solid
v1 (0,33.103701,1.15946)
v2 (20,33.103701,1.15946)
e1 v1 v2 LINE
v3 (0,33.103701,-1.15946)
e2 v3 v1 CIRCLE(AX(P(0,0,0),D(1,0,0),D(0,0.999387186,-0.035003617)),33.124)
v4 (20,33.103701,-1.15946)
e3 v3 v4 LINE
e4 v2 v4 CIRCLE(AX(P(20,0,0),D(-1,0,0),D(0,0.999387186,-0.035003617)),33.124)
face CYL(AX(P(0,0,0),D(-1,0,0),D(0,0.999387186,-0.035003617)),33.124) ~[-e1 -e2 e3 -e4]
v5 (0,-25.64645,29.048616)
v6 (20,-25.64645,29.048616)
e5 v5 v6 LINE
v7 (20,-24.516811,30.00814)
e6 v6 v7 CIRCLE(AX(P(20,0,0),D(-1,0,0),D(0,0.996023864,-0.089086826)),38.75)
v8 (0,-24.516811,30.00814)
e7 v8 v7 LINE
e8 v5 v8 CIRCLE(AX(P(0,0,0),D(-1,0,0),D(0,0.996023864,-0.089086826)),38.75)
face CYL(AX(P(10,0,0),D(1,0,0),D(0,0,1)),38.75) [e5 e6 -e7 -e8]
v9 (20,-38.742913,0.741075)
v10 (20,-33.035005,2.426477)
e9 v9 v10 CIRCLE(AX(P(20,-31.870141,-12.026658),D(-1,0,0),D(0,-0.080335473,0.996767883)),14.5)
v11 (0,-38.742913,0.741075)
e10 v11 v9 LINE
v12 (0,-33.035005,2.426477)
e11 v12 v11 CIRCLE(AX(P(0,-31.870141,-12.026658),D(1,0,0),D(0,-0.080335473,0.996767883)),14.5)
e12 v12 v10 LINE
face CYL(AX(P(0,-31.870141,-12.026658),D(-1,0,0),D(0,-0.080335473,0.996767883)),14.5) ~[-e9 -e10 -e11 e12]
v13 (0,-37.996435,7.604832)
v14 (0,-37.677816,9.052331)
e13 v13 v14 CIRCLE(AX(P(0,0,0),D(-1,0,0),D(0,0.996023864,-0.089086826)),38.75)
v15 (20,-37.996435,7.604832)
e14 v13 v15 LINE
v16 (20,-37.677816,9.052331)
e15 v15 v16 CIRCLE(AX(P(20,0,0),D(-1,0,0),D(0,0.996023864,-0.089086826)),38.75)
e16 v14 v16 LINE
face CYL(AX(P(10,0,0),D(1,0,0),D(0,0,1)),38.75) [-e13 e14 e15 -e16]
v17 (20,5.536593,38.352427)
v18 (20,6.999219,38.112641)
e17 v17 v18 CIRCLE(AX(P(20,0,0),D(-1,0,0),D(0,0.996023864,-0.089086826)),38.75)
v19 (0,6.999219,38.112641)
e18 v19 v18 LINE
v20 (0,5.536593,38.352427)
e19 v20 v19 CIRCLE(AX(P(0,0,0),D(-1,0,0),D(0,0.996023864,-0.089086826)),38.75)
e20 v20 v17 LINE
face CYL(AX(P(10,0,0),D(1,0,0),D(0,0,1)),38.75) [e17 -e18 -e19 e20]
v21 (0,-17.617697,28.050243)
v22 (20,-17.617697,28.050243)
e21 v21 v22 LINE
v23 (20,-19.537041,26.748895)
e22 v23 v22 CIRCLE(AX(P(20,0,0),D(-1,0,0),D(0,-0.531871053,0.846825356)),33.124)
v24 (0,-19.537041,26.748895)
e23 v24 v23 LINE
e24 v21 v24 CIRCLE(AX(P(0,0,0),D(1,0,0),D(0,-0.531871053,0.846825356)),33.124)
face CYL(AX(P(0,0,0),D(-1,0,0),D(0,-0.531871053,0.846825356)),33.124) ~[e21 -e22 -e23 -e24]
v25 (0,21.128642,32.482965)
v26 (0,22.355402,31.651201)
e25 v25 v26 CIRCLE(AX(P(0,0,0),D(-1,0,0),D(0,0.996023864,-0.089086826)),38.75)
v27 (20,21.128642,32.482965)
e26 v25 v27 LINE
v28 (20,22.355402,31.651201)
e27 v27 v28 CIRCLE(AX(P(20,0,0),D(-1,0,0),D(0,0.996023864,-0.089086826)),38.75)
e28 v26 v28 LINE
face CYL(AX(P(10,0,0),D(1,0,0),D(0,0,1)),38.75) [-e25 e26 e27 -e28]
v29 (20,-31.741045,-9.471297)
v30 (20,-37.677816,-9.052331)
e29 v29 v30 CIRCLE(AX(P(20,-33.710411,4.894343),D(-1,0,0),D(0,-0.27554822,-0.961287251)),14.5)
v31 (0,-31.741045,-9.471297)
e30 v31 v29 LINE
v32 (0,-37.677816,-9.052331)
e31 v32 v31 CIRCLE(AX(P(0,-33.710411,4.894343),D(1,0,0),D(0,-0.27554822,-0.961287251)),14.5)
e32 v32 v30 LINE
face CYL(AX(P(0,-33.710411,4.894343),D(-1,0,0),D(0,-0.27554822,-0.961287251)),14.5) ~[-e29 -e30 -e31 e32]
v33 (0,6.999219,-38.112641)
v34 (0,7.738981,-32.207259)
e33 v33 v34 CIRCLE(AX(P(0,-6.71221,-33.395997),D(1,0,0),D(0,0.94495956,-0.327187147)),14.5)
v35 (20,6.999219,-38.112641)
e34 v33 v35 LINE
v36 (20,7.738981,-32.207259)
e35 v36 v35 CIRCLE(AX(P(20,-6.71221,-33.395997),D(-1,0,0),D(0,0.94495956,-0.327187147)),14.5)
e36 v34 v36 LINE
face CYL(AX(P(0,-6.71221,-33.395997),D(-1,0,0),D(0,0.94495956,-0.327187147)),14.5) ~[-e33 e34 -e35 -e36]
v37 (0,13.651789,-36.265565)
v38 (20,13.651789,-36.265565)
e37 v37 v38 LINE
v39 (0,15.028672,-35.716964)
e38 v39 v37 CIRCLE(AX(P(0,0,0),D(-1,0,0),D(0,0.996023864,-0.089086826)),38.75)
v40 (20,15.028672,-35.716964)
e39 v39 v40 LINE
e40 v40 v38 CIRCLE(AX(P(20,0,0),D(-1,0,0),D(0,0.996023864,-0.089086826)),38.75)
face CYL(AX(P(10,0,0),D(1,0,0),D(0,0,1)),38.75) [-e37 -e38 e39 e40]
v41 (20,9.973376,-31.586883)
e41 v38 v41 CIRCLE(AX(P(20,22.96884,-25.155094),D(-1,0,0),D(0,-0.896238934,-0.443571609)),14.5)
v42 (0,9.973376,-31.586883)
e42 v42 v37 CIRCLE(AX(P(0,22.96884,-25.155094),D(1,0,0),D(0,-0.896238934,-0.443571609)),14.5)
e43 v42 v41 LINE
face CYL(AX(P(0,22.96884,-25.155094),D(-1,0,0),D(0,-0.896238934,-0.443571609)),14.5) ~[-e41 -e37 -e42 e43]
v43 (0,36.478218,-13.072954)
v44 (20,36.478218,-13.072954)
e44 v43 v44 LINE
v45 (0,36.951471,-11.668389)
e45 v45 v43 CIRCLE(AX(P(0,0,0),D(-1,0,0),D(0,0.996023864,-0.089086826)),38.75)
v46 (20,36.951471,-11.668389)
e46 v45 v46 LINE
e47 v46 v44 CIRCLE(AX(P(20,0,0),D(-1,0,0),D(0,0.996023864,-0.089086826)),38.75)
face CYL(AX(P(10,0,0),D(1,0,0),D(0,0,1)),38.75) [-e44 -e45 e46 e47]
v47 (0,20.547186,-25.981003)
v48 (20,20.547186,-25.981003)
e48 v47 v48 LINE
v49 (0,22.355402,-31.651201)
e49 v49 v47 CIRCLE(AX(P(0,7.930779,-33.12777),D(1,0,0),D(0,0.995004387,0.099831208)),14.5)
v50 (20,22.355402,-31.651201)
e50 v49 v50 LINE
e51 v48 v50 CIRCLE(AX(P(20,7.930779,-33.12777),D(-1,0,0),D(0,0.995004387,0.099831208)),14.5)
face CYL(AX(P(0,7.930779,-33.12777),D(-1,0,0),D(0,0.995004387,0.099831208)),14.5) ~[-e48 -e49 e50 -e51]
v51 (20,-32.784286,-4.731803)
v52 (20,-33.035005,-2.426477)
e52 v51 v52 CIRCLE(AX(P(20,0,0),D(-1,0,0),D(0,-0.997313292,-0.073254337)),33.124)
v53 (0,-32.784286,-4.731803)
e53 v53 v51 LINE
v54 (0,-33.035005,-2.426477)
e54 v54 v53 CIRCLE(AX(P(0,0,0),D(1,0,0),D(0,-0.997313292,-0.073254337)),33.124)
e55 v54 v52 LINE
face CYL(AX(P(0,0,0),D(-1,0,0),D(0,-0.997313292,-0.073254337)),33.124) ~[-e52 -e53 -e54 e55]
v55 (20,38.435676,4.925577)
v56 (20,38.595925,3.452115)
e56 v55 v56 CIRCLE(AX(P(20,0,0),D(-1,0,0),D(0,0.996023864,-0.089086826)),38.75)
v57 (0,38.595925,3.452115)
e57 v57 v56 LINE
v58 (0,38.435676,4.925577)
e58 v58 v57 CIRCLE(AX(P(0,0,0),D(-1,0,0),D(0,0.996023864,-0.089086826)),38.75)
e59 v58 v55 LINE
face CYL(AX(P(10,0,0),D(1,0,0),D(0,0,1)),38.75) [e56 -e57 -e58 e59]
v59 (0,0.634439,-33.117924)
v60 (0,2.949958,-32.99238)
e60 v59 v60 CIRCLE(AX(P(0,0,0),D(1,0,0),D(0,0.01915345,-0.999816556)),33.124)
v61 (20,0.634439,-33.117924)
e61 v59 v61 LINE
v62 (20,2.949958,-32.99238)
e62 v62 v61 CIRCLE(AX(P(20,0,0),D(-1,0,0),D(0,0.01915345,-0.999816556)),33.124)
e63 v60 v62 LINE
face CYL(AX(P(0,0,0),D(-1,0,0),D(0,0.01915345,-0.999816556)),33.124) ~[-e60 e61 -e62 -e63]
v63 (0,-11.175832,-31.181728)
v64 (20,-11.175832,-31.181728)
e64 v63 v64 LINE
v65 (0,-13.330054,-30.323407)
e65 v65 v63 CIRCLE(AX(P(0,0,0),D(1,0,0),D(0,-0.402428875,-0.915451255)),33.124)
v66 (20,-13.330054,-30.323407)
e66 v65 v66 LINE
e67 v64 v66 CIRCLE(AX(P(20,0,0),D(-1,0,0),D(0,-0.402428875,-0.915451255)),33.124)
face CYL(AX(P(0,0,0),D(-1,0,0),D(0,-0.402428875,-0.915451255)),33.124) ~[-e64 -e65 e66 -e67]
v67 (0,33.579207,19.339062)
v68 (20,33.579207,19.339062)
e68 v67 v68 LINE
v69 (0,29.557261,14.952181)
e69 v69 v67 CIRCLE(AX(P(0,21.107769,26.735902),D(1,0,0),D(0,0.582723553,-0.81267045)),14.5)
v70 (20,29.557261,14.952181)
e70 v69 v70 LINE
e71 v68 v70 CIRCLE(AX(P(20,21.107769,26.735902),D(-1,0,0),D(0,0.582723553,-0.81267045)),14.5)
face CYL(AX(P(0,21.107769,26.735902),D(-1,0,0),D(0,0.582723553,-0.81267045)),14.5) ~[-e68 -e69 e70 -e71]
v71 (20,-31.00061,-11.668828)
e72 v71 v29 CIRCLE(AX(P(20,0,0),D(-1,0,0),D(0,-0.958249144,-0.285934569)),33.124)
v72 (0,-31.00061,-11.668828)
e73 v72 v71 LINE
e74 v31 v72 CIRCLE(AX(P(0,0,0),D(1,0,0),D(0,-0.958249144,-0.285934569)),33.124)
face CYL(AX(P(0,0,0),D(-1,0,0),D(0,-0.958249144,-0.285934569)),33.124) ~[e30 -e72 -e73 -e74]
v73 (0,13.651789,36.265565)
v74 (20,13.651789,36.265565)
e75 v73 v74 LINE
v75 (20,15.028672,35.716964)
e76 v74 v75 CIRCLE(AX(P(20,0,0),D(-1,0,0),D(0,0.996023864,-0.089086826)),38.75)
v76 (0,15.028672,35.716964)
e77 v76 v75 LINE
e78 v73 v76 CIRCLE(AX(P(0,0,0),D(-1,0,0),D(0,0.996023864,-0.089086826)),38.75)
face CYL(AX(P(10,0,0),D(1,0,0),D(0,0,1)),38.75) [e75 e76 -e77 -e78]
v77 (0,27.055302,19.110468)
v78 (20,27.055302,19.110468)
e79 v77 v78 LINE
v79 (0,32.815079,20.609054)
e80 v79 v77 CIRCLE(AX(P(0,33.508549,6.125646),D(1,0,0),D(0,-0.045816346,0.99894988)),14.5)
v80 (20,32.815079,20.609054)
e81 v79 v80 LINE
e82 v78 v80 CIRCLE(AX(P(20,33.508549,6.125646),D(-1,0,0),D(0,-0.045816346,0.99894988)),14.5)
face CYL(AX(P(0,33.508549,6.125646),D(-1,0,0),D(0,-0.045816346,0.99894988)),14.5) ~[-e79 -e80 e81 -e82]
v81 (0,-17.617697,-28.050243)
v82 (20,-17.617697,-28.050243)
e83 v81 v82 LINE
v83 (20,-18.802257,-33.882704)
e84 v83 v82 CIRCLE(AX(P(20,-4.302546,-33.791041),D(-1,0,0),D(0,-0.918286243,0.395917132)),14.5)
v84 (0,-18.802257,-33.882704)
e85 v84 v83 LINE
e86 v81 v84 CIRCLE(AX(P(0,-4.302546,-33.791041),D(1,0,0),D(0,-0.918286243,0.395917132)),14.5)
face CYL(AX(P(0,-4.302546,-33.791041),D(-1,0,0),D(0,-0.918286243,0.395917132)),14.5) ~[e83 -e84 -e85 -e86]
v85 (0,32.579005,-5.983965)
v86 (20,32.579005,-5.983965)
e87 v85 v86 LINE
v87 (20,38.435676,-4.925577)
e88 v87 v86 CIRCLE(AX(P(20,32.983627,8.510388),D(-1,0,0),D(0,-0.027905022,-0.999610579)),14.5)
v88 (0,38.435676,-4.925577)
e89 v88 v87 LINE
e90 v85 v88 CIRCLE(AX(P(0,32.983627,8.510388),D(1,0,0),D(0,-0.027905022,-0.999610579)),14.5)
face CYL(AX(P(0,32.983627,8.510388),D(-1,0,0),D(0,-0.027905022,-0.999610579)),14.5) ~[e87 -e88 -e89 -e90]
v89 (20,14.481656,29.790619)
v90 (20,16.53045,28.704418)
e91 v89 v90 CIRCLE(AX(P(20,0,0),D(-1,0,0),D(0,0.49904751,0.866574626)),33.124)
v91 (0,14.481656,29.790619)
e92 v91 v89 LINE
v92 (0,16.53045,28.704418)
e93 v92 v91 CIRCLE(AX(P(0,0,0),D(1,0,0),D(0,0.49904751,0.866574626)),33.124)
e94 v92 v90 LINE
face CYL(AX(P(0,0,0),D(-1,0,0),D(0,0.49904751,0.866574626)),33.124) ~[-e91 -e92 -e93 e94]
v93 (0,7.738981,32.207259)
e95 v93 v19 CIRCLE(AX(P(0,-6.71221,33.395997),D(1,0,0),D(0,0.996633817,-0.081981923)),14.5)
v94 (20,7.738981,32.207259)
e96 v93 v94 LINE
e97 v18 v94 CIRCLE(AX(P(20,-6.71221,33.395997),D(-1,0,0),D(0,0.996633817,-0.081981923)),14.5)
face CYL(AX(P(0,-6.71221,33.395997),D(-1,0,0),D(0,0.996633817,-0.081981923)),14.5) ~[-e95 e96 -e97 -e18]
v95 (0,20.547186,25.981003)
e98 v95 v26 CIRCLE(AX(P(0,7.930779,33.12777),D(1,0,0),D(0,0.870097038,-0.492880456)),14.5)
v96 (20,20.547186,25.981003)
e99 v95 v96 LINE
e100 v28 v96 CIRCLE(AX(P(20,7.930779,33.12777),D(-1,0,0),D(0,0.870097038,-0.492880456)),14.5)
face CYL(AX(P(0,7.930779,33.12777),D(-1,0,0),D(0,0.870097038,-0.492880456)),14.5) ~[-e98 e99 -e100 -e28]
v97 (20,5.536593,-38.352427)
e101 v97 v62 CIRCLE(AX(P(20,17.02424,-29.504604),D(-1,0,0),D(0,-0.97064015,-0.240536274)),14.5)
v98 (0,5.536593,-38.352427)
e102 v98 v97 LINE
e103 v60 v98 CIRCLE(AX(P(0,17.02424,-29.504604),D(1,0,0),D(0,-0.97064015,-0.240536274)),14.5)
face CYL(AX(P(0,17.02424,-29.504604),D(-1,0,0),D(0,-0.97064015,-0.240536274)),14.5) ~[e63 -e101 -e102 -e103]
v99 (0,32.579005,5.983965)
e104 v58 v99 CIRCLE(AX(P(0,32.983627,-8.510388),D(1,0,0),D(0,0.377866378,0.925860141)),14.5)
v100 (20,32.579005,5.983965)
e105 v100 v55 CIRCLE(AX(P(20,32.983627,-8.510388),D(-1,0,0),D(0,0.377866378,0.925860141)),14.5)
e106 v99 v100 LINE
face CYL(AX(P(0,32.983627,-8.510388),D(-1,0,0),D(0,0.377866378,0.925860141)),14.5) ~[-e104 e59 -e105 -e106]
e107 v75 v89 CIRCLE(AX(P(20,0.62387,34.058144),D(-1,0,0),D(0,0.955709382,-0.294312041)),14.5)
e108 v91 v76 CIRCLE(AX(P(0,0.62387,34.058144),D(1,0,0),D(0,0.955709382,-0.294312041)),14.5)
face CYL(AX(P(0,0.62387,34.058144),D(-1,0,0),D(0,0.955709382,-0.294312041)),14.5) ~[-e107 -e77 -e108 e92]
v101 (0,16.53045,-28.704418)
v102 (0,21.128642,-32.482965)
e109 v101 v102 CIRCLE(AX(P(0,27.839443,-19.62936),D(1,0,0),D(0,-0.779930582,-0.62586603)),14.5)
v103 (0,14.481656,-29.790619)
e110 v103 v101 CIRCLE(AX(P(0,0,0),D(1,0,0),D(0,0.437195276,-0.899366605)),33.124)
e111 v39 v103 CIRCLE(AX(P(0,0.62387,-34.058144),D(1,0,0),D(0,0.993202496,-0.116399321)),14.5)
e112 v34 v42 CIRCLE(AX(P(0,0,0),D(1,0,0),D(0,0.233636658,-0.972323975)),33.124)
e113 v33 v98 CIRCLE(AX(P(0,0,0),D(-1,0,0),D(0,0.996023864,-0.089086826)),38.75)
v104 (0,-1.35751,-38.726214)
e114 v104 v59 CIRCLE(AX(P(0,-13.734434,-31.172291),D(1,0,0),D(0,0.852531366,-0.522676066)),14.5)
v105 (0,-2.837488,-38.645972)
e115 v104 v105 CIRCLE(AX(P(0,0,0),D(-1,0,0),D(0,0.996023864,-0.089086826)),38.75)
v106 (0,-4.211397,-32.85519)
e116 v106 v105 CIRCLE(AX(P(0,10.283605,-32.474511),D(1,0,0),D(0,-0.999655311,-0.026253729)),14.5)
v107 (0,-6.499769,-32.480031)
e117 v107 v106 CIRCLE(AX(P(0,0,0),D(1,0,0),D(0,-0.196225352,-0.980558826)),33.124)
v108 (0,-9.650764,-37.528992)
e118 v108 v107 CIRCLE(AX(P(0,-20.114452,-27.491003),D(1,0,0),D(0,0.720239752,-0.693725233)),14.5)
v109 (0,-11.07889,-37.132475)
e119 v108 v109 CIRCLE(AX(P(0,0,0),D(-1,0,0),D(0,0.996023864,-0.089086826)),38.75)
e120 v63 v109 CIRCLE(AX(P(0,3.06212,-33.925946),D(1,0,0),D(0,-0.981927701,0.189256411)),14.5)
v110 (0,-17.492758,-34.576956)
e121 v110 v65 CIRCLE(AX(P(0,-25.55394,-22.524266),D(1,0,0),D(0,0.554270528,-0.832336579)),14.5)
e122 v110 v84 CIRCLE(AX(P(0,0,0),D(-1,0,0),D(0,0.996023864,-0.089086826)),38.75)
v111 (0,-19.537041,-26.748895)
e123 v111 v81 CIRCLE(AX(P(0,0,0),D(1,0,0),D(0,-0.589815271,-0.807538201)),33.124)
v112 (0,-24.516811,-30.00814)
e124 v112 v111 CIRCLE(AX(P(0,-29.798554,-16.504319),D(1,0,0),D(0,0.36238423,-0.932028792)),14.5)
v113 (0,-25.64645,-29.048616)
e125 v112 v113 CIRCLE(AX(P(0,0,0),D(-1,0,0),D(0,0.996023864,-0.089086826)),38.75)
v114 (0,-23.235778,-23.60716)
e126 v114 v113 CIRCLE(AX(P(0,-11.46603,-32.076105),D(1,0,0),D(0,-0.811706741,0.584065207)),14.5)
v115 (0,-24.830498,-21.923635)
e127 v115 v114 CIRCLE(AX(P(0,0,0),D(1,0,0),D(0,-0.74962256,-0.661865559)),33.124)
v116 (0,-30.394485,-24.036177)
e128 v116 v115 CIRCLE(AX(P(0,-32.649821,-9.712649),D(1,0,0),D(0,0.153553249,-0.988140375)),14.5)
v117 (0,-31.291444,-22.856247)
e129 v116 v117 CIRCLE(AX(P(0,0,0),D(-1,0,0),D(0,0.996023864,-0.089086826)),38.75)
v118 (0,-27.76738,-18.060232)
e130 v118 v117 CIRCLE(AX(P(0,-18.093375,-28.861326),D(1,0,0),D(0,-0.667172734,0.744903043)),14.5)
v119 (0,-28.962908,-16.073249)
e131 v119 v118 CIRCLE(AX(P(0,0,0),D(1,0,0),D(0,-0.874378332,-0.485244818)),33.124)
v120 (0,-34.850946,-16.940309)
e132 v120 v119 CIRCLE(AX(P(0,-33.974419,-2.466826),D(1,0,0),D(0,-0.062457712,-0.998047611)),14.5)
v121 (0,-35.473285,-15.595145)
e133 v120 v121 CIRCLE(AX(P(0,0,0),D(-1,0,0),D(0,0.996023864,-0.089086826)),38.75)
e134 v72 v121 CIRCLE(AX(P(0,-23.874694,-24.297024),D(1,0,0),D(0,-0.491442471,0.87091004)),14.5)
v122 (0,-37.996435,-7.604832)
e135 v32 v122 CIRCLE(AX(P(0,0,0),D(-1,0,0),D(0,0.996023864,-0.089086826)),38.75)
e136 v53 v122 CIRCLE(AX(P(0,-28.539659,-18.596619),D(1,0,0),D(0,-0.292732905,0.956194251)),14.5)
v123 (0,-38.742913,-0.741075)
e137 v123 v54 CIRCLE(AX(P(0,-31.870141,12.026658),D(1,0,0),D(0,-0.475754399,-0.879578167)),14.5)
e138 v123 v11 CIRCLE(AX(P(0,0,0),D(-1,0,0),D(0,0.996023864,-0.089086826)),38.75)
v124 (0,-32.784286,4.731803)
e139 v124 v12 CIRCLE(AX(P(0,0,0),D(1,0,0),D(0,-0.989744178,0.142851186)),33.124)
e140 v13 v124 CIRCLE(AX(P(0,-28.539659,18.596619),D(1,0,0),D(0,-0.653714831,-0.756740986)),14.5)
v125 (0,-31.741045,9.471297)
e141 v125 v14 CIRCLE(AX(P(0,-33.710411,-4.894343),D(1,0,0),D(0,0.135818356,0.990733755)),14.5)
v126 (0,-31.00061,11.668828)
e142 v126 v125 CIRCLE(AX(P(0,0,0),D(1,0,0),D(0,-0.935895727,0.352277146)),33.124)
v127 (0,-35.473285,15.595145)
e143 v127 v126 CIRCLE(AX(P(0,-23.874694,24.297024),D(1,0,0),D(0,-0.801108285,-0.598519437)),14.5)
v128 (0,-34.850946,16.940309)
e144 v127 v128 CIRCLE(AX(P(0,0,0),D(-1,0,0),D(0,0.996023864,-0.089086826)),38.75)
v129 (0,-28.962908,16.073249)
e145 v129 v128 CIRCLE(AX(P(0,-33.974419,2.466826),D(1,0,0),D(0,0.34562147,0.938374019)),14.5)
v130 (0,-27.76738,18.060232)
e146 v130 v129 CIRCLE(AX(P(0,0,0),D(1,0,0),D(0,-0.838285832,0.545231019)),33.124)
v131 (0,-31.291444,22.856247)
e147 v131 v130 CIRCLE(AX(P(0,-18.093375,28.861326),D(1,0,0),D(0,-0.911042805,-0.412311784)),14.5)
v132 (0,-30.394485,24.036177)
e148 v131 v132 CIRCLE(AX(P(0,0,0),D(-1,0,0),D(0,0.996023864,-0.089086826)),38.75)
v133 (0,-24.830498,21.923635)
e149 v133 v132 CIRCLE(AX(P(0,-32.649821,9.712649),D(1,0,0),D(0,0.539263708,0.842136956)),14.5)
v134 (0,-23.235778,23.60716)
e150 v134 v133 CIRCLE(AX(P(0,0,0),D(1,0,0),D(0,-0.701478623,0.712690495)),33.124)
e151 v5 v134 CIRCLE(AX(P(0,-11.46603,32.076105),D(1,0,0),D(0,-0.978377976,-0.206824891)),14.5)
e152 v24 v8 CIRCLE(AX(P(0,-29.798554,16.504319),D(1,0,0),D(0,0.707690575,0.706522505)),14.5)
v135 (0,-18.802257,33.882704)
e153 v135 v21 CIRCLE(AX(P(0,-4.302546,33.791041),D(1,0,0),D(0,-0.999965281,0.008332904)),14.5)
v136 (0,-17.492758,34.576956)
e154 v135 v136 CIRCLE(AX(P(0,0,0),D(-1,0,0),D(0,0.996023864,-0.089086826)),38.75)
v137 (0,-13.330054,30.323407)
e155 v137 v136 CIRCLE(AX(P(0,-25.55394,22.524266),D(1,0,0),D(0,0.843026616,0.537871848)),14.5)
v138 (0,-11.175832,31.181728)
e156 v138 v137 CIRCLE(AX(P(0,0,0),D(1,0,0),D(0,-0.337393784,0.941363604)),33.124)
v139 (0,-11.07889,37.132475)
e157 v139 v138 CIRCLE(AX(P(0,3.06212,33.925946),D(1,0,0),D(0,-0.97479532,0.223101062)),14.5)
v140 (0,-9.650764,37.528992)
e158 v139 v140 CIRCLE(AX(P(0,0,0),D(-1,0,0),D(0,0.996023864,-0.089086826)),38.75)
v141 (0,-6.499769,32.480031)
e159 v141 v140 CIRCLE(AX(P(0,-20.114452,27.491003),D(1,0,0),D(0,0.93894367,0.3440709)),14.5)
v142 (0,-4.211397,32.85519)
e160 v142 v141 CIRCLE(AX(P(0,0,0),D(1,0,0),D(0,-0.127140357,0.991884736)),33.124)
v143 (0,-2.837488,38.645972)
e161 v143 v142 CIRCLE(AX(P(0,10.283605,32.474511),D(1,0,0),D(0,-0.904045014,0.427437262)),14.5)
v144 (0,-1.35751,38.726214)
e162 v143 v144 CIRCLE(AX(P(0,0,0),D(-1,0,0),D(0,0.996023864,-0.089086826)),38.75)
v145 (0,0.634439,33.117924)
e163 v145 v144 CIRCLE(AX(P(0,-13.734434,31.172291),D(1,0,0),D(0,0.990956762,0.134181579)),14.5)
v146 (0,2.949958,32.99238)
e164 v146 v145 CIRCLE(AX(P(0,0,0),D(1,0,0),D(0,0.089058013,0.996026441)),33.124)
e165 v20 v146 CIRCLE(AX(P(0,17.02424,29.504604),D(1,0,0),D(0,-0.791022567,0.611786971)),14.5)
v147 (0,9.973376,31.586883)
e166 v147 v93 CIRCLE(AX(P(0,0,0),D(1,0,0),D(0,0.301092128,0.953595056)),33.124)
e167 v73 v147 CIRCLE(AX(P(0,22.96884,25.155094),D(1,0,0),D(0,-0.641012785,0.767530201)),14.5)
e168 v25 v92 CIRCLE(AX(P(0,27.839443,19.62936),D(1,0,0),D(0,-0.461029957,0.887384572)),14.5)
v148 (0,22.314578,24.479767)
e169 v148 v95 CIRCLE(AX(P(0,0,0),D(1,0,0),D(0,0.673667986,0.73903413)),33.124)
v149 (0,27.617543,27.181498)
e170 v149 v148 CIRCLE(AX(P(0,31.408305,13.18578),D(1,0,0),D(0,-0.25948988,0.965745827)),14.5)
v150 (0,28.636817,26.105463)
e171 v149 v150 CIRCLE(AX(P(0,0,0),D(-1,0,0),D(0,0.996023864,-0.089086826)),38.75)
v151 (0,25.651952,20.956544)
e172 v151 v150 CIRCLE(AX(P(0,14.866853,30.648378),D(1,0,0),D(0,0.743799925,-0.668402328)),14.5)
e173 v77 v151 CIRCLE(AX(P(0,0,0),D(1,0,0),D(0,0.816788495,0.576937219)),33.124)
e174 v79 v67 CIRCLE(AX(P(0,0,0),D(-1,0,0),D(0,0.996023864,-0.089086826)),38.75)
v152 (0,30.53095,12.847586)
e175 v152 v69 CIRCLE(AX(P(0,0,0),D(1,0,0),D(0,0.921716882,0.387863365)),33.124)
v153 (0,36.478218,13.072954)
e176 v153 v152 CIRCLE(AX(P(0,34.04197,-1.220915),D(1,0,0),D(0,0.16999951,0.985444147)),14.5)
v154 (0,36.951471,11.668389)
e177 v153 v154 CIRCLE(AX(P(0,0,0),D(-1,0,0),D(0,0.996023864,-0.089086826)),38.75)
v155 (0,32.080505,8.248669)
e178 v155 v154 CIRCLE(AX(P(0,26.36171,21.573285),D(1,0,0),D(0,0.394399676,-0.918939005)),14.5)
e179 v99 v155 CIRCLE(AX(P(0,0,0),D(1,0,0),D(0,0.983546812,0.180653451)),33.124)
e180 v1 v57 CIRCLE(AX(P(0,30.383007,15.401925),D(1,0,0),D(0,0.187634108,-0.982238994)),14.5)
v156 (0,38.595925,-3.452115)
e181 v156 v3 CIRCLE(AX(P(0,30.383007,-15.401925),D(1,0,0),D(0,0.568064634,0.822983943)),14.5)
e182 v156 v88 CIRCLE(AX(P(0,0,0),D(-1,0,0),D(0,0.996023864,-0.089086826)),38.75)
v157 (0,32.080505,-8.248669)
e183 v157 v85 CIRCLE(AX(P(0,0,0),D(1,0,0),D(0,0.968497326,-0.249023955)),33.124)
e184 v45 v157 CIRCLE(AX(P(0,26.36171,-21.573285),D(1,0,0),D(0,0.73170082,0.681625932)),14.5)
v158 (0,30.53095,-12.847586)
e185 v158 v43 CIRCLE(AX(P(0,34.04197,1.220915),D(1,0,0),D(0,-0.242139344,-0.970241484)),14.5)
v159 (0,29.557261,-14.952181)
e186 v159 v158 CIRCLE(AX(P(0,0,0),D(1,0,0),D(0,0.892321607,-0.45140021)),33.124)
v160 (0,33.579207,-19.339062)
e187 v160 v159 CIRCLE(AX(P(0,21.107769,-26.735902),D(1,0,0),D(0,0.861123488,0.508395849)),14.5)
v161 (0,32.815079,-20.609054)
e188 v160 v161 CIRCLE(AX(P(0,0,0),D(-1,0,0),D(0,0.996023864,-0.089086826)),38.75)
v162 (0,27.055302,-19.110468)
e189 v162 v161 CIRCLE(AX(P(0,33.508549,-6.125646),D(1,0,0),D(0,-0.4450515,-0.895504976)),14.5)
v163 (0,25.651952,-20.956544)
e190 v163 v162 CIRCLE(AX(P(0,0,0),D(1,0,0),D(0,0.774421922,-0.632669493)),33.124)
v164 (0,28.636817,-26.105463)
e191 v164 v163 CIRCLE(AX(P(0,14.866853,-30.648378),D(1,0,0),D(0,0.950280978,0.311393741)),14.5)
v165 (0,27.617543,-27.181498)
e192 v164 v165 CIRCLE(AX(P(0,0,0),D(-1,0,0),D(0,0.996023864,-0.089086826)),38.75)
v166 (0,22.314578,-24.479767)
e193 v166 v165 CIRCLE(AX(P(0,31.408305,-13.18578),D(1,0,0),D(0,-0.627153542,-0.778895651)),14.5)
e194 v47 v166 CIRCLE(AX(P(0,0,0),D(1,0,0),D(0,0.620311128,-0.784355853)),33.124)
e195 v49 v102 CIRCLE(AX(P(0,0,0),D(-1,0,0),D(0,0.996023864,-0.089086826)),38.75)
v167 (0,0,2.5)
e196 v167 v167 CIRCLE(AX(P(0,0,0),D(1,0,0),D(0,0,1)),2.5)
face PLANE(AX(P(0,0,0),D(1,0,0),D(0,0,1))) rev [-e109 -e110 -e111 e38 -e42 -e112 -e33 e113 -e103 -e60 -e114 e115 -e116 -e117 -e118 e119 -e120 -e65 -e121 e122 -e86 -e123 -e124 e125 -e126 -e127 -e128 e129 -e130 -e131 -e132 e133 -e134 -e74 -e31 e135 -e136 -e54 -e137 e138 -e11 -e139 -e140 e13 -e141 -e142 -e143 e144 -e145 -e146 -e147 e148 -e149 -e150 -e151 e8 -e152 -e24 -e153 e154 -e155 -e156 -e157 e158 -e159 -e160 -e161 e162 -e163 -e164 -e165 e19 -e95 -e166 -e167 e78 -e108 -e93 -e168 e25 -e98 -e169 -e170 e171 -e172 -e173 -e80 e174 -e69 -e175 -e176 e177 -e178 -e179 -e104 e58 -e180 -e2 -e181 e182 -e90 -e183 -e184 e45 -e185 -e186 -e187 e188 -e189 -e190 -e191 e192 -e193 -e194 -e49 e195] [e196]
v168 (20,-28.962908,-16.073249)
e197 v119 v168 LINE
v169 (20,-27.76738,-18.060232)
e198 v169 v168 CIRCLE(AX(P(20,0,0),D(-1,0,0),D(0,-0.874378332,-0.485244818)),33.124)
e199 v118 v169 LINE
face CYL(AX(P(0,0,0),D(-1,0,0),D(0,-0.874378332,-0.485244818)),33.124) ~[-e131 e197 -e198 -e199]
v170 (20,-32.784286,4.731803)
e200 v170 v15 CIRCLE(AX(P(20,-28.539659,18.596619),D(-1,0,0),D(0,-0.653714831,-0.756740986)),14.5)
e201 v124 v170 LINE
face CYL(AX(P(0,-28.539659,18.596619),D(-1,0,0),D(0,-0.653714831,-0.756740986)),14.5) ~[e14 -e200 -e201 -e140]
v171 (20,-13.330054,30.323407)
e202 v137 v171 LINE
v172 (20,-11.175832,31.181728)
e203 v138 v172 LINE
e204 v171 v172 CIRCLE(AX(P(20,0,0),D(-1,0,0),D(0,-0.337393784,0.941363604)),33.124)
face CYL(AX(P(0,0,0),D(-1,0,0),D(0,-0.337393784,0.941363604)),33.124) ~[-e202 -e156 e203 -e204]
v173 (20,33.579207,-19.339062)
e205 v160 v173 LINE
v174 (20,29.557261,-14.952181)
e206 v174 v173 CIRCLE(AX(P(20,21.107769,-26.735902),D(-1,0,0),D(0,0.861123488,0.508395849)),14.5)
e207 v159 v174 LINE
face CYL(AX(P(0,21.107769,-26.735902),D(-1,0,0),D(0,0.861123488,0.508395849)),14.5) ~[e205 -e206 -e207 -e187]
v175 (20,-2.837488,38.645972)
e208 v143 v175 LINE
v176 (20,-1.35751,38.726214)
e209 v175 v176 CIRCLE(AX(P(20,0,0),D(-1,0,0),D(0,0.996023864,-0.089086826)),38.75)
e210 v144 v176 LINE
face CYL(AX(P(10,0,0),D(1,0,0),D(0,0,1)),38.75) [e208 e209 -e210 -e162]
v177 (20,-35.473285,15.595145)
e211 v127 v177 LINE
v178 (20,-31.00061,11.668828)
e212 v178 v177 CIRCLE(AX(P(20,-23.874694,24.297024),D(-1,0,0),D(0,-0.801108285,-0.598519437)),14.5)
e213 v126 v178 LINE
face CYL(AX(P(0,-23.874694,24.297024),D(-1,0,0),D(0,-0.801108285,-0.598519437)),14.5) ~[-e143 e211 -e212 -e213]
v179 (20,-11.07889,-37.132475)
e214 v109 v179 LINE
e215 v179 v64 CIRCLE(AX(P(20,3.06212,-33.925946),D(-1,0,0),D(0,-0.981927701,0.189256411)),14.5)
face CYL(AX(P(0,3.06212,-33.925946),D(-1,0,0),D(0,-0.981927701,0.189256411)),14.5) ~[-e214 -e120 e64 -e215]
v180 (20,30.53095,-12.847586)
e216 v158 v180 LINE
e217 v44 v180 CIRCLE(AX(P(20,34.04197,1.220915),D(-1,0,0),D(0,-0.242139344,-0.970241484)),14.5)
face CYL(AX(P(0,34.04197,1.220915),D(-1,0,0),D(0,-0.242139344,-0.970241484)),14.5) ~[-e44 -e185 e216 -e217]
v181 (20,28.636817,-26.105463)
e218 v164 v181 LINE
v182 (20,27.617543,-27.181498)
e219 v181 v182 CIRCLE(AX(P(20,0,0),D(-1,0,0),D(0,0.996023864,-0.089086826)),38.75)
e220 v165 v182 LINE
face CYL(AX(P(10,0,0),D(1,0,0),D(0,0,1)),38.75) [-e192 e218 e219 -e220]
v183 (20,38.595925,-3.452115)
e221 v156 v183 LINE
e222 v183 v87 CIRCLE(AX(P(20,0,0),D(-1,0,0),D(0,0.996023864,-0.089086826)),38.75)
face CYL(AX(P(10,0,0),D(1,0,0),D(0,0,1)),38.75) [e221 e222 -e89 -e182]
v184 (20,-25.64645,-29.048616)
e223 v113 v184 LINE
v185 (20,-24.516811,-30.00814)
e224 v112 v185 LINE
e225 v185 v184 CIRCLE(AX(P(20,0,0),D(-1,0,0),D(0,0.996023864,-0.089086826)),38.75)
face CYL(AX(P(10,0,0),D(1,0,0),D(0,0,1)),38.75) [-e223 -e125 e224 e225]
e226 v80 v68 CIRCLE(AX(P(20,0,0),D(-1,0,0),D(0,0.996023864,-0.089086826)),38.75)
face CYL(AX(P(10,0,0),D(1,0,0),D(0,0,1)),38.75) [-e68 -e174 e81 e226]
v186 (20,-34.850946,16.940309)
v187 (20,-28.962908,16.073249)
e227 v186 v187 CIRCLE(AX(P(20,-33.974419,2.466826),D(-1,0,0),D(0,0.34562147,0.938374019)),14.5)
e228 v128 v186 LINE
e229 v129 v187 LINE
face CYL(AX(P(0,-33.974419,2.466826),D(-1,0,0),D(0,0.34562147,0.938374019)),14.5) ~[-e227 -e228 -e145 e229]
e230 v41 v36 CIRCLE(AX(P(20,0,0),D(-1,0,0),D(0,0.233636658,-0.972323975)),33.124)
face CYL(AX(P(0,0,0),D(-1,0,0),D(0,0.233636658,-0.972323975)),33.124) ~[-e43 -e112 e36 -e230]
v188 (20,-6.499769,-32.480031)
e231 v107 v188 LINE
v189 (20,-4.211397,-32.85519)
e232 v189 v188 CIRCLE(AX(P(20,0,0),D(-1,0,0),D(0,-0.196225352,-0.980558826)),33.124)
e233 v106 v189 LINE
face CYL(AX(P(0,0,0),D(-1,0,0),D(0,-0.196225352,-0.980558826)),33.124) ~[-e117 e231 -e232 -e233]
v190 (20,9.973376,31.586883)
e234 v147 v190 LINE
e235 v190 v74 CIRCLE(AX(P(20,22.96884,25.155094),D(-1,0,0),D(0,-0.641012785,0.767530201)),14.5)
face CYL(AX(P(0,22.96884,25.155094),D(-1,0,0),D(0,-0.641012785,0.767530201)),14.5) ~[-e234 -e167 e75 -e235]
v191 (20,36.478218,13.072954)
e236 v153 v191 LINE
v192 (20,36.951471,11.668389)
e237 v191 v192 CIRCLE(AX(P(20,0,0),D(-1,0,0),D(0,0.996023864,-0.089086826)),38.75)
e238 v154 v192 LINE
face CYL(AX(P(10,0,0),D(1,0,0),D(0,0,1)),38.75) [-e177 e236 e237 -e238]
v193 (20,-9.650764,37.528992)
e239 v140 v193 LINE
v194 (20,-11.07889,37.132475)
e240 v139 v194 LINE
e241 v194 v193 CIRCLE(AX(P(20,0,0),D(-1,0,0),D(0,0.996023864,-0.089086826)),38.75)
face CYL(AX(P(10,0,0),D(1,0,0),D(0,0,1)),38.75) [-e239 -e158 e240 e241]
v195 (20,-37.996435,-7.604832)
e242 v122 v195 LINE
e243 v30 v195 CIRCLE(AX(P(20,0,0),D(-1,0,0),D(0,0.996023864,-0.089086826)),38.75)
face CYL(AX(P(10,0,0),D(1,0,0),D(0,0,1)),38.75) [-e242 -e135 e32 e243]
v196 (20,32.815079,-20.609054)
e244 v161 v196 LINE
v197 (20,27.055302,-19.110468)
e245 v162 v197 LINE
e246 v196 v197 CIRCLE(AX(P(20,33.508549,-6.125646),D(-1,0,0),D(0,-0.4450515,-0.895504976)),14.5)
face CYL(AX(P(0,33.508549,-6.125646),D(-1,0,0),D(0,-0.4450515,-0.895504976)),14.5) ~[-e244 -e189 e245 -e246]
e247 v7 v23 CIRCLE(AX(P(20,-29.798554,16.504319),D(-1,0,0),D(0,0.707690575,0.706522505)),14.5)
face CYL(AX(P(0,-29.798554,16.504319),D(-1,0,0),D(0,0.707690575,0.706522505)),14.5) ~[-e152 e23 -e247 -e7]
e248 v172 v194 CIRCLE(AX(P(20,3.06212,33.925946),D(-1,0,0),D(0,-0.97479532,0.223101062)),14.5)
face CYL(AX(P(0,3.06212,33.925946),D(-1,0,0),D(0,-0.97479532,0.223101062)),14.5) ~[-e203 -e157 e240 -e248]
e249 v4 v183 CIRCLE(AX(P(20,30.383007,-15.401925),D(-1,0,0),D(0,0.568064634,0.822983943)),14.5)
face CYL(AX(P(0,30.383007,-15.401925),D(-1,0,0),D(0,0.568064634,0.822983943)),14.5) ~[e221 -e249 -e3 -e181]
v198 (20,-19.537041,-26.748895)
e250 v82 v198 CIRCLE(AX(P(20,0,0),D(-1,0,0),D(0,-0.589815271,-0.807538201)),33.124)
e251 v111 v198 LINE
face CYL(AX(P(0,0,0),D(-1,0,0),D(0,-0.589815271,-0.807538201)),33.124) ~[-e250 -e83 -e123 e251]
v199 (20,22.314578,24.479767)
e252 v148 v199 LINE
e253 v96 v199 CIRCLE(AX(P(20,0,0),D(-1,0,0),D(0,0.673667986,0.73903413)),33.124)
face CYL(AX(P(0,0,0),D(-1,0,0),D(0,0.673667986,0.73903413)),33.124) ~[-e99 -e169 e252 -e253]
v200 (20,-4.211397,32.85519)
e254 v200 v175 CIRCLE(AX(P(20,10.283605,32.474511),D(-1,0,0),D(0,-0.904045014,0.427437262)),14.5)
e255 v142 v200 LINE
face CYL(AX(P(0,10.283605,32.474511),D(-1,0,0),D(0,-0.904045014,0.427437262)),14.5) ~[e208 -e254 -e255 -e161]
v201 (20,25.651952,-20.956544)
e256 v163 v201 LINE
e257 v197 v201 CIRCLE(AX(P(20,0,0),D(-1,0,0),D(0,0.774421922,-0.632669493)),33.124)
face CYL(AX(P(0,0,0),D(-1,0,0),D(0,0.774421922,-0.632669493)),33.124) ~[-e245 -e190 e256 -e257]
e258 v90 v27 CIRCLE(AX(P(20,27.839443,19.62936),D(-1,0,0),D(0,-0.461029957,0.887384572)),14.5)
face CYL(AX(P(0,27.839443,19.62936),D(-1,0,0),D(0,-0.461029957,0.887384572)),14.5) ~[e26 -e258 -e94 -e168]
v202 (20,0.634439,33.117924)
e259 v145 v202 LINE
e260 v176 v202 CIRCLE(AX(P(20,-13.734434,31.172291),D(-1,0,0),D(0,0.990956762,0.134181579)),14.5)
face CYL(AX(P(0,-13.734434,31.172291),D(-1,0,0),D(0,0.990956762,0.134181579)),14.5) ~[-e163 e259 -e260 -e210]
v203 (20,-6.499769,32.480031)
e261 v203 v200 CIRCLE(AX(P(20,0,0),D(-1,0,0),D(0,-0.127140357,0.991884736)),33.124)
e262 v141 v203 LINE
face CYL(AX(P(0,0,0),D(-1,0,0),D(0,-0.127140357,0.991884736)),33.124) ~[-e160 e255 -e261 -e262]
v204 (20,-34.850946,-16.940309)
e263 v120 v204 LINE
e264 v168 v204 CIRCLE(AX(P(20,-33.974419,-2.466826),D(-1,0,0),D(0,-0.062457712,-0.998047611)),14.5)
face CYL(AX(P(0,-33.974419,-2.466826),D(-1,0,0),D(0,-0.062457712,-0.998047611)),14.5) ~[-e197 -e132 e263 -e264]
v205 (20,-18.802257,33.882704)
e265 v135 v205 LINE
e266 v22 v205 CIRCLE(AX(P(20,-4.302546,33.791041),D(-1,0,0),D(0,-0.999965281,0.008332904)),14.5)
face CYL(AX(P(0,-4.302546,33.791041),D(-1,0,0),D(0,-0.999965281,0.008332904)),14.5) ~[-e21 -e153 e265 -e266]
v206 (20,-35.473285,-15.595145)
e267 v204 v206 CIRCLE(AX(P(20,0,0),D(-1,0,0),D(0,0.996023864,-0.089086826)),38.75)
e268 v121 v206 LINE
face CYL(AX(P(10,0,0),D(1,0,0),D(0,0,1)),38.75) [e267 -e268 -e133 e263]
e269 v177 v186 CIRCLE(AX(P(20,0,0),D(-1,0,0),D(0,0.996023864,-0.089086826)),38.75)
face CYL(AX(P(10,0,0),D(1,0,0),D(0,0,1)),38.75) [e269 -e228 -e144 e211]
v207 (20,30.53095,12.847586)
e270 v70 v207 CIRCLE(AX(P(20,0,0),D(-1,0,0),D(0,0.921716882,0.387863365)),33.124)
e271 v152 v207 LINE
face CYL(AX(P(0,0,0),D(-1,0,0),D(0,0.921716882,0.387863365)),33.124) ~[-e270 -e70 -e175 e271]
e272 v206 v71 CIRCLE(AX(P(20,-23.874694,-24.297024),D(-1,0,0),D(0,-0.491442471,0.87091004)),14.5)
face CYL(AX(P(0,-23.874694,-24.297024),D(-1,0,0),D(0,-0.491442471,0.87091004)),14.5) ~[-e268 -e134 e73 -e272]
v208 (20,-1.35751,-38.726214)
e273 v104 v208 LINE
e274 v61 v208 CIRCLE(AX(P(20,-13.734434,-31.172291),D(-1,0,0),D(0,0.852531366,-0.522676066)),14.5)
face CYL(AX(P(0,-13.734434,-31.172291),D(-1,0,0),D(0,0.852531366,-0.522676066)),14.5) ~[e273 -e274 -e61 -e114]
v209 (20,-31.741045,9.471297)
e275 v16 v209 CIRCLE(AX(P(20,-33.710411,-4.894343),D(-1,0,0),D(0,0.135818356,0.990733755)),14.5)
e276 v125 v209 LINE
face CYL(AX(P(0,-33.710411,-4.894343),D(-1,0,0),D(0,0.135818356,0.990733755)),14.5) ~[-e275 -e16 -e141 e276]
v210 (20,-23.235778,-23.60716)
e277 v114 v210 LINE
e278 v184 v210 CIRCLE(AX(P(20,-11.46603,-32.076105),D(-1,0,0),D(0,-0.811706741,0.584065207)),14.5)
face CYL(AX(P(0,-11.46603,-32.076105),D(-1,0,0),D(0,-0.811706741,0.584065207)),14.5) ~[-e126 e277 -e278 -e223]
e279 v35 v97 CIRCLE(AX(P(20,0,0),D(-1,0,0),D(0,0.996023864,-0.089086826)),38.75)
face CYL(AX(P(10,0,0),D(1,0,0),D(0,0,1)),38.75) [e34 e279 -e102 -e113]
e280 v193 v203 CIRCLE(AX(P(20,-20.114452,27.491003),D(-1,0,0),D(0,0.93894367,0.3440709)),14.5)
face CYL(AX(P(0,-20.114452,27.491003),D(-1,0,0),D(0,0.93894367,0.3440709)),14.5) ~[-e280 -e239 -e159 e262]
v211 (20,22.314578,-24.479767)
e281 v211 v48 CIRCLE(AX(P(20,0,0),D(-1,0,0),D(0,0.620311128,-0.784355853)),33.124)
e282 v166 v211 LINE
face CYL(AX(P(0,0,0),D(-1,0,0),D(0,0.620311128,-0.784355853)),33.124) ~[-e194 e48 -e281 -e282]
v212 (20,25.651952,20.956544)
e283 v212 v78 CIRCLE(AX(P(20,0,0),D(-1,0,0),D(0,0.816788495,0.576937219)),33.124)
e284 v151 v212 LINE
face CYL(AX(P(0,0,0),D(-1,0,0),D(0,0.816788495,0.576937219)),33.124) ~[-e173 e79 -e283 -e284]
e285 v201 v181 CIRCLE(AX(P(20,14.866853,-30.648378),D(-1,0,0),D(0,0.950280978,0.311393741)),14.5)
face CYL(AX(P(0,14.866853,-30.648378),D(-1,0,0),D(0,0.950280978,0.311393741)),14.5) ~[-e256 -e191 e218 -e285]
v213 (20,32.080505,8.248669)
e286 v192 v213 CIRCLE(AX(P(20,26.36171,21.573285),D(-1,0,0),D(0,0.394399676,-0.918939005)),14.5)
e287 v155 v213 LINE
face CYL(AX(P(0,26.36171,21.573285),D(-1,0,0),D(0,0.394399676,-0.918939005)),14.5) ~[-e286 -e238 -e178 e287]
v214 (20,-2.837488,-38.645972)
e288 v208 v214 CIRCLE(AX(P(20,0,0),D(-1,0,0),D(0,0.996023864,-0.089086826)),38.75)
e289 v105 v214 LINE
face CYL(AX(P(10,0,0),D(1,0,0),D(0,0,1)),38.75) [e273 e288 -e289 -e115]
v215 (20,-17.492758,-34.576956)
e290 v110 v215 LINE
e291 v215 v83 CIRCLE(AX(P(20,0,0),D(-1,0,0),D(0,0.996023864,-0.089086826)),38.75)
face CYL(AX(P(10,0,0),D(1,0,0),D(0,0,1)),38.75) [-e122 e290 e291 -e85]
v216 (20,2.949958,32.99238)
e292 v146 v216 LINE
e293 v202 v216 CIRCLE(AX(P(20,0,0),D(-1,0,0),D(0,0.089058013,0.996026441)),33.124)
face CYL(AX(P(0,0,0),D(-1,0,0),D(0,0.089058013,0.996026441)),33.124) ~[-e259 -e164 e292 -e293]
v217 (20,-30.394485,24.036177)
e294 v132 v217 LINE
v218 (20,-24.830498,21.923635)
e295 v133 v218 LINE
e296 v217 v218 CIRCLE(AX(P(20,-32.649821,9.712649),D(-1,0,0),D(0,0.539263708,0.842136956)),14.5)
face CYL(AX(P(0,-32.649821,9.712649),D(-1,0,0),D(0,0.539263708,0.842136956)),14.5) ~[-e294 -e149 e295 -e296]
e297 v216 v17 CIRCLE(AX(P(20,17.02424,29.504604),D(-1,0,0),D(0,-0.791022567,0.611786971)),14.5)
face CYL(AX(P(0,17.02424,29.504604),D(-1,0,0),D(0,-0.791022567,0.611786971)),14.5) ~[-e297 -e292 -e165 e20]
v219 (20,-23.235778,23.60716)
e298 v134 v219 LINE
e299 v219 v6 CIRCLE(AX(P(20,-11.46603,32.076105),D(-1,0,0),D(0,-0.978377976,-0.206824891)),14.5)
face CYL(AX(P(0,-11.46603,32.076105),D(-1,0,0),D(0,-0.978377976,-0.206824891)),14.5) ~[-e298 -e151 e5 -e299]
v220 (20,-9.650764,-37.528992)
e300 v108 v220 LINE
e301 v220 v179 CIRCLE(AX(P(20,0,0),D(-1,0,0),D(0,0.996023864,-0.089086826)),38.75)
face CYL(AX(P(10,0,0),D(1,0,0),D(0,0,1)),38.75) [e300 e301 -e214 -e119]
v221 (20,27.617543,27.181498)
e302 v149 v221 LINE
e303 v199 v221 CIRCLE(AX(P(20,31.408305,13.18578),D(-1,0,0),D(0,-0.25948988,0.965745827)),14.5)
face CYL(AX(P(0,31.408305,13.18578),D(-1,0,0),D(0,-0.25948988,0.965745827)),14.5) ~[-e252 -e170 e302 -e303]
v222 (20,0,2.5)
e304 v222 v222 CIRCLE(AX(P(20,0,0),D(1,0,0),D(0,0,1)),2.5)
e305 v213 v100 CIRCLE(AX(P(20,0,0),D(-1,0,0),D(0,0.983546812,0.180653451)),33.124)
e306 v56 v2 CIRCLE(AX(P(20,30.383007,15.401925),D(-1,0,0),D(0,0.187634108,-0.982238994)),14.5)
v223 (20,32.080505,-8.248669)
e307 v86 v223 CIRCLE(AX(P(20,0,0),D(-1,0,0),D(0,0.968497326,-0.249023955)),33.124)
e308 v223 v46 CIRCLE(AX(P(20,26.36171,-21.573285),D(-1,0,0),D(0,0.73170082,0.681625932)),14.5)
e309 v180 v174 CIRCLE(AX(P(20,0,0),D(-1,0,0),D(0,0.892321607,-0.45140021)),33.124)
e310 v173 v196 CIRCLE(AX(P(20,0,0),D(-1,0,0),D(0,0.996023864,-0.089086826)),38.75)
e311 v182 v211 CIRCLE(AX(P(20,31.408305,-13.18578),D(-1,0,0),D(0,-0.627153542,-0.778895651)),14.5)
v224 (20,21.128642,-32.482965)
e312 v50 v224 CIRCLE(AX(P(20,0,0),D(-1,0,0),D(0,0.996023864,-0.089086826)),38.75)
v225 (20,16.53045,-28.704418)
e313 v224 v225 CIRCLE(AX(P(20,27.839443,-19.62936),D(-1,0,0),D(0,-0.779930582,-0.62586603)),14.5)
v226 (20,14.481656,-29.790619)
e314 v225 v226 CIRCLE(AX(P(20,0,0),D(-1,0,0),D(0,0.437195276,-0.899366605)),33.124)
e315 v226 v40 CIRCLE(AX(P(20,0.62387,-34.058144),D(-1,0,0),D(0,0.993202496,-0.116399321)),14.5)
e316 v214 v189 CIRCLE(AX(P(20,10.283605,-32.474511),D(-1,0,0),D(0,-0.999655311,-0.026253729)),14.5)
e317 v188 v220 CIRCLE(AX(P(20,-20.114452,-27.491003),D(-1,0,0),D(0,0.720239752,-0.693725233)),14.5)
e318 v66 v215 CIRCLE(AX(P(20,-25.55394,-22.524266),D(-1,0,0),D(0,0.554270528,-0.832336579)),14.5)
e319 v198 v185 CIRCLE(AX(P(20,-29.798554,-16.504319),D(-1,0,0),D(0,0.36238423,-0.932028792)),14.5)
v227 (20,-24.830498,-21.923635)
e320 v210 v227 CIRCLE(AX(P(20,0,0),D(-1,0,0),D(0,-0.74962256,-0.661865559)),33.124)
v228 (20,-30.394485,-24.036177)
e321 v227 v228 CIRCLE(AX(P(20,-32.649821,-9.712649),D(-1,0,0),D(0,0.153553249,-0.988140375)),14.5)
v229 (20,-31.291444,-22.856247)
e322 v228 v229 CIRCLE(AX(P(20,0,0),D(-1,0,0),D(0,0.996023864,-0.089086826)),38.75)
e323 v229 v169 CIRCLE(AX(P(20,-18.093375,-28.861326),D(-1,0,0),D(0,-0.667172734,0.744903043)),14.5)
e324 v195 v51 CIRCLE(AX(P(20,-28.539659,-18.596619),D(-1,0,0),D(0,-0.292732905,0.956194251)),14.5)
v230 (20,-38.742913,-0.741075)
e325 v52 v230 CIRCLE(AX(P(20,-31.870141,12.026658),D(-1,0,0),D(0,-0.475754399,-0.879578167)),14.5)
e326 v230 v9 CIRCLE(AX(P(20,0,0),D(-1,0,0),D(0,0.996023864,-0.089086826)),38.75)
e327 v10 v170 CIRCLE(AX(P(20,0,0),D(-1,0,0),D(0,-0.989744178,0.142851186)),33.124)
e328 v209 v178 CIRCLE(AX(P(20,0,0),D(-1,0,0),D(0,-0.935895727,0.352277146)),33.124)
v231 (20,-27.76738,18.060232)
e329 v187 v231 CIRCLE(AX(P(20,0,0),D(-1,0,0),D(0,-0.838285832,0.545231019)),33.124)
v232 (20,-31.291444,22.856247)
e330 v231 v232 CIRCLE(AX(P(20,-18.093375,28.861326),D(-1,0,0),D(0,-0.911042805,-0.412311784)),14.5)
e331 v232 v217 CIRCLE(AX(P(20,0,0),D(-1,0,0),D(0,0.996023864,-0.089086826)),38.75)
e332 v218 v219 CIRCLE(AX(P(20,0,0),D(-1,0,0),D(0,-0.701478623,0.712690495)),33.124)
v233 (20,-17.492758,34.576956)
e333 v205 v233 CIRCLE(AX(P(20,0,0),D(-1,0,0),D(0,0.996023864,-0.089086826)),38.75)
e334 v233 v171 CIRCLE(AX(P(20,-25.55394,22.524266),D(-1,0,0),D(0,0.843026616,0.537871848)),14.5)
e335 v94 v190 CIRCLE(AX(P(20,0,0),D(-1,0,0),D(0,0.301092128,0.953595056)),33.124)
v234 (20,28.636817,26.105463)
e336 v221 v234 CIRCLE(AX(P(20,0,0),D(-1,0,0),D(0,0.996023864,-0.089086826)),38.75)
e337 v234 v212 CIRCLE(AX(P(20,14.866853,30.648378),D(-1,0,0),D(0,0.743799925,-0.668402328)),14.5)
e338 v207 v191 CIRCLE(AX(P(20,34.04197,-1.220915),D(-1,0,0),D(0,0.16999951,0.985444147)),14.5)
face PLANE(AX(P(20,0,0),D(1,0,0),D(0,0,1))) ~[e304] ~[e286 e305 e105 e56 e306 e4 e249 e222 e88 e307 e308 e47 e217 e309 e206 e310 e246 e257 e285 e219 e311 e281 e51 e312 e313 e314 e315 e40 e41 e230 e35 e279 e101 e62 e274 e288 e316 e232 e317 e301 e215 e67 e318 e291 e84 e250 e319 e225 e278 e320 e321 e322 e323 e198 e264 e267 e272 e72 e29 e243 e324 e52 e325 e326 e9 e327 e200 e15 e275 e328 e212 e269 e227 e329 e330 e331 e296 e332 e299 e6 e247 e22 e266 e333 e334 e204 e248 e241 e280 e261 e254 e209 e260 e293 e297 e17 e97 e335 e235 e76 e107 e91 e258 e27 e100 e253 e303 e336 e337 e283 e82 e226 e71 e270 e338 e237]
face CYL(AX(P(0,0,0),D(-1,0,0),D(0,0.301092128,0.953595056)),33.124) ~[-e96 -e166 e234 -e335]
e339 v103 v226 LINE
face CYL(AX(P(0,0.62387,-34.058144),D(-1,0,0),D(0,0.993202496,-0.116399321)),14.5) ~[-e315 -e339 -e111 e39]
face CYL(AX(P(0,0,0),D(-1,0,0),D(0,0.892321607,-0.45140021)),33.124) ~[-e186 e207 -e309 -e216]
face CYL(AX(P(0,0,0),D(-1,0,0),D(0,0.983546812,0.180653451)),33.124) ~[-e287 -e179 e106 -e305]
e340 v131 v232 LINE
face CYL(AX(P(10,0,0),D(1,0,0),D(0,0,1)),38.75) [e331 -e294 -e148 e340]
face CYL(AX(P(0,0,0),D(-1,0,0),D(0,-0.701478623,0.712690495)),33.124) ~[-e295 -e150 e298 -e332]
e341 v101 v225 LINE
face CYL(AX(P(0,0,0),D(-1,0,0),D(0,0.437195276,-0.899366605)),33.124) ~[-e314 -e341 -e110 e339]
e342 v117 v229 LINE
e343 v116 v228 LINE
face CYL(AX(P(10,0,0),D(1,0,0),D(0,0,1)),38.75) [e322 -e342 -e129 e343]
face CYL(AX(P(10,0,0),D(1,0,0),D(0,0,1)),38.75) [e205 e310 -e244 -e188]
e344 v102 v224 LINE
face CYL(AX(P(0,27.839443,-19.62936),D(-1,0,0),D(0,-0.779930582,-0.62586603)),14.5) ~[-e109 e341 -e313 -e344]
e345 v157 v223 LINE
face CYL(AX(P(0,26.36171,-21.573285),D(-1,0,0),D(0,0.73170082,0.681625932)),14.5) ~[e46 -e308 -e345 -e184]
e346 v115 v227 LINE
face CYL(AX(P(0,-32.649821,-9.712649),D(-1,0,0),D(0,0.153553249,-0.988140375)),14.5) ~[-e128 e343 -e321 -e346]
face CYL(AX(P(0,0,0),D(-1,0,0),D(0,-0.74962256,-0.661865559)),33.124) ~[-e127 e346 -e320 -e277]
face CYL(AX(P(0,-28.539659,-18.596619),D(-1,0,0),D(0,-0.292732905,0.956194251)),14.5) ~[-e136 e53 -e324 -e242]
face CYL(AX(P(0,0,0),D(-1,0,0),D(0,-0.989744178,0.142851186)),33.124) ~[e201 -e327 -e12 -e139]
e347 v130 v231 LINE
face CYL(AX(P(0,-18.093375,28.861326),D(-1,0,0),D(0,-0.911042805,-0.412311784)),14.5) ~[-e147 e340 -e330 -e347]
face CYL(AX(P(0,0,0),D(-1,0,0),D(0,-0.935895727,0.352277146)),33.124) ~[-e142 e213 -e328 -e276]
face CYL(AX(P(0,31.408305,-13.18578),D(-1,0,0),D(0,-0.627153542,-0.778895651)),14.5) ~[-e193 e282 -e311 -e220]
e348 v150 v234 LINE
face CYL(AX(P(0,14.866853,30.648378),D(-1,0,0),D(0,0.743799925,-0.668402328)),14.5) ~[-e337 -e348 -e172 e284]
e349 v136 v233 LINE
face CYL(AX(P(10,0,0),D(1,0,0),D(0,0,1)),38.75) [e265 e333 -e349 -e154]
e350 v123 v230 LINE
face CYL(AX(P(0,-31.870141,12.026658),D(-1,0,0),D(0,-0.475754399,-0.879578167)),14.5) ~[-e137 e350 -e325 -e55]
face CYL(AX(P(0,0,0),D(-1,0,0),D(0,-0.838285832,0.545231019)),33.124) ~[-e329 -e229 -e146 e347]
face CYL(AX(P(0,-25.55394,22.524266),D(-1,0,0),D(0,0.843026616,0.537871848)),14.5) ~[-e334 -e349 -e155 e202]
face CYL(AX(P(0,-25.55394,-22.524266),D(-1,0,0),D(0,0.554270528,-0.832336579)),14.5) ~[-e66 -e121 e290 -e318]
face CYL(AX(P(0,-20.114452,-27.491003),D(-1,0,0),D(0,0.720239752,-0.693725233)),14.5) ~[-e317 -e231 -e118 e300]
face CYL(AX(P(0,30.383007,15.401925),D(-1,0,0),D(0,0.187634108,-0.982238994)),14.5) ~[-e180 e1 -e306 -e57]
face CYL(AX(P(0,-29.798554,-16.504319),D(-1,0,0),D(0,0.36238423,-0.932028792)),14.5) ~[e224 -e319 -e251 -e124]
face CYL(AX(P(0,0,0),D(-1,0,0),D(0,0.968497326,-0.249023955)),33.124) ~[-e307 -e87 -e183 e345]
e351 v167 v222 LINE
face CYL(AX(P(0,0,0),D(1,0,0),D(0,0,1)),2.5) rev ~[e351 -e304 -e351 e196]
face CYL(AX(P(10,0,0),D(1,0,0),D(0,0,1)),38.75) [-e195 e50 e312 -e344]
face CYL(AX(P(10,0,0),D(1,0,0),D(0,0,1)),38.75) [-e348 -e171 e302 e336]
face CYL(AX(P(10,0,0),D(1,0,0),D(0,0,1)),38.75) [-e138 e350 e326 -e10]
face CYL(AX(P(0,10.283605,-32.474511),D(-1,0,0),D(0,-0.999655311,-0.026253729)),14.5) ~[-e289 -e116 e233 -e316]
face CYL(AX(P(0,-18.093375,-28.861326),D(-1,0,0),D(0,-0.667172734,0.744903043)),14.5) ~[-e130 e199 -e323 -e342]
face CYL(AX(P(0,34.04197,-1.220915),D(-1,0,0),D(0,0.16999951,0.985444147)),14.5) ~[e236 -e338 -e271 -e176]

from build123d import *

# Parameters (mm, degrees)
BASPROSKE_W     = 20
BASPROSKE_H     = 38.75
TOOTHCUT_DEPTH  = 59.336309448
TEETHCUTS_COUNT = 29
TEETHCUTS_ANGLE = 347.586206897
BORSKE_R        = 2.5
BORE_DEPTH      = 50.0000508


with BuildPart() as part:
    # BasProSke → Base-Revolve (revolve)
    with BuildSketch(Plane(origin=(0, 0, 0), x_dir=(1, 0, 0), z_dir=(0, 1, 0)), mode=Mode.PRIVATE) as base_revolve_sk:
        with Locations((10, 19.375)):
            Rectangle(BASPROSKE_W, BASPROSKE_H)
    revolve(base_revolve_sk.sketch.rotate(Axis((-10, 0, 0), (1, 0, 0)), 180), axis=Axis((-10, 0, 0), (1, 0, 0)))

    # TooCutSke → ToothCut (cut, through all)
    with BuildSketch(Plane(origin=(0, 0, 0), x_dir=(0, 0, -1), z_dir=(1, 0, 0))):
        with BuildLine():
            ThreePointArc((1.159459794, 33.103701137), (0, 33.124), (-1.159459794, 33.103701137))
            ThreePointArc((-1.159459794, 33.103701137), (-2.026594281, 35.982160309), (-3.468658028, 38.619943768))
            ThreePointArc((-3.468658028, 38.619943768), (0, 38.7754), (3.468658028, 38.619943768))
            ThreePointArc((3.468658028, 38.619943768), (2.026594281, 35.982160309), (1.159459794, 33.103701137))
        make_face()
    toothcut = extrude(amount=TOOTHCUT_DEPTH, mode=Mode.SUBTRACT)

    # TeethCuts: ToothCut ×29 about axis
    teethcuts_axis = Axis((-10, 0, 0), (1, 0, 0))
    for i in range(1, TEETHCUTS_COUNT):
        add(toothcut.rotate(teethcuts_axis, i * TEETHCUTS_ANGLE / (TEETHCUTS_COUNT - 1)), mode=Mode.SUBTRACT)

    # BorSke → Bore (cut, symmetric)
    with BuildSketch(Plane(origin=(0, 0, 0), x_dir=(0, 0, -1), z_dir=(1, 0, 0))):
        with Locations(Location((0, 0, 0), (0, 0, 180))):
            Circle(BORSKE_R)
    extrude(amount=BORE_DEPTH, both=True, mode=Mode.SUBTRACT)


solid = part.part
